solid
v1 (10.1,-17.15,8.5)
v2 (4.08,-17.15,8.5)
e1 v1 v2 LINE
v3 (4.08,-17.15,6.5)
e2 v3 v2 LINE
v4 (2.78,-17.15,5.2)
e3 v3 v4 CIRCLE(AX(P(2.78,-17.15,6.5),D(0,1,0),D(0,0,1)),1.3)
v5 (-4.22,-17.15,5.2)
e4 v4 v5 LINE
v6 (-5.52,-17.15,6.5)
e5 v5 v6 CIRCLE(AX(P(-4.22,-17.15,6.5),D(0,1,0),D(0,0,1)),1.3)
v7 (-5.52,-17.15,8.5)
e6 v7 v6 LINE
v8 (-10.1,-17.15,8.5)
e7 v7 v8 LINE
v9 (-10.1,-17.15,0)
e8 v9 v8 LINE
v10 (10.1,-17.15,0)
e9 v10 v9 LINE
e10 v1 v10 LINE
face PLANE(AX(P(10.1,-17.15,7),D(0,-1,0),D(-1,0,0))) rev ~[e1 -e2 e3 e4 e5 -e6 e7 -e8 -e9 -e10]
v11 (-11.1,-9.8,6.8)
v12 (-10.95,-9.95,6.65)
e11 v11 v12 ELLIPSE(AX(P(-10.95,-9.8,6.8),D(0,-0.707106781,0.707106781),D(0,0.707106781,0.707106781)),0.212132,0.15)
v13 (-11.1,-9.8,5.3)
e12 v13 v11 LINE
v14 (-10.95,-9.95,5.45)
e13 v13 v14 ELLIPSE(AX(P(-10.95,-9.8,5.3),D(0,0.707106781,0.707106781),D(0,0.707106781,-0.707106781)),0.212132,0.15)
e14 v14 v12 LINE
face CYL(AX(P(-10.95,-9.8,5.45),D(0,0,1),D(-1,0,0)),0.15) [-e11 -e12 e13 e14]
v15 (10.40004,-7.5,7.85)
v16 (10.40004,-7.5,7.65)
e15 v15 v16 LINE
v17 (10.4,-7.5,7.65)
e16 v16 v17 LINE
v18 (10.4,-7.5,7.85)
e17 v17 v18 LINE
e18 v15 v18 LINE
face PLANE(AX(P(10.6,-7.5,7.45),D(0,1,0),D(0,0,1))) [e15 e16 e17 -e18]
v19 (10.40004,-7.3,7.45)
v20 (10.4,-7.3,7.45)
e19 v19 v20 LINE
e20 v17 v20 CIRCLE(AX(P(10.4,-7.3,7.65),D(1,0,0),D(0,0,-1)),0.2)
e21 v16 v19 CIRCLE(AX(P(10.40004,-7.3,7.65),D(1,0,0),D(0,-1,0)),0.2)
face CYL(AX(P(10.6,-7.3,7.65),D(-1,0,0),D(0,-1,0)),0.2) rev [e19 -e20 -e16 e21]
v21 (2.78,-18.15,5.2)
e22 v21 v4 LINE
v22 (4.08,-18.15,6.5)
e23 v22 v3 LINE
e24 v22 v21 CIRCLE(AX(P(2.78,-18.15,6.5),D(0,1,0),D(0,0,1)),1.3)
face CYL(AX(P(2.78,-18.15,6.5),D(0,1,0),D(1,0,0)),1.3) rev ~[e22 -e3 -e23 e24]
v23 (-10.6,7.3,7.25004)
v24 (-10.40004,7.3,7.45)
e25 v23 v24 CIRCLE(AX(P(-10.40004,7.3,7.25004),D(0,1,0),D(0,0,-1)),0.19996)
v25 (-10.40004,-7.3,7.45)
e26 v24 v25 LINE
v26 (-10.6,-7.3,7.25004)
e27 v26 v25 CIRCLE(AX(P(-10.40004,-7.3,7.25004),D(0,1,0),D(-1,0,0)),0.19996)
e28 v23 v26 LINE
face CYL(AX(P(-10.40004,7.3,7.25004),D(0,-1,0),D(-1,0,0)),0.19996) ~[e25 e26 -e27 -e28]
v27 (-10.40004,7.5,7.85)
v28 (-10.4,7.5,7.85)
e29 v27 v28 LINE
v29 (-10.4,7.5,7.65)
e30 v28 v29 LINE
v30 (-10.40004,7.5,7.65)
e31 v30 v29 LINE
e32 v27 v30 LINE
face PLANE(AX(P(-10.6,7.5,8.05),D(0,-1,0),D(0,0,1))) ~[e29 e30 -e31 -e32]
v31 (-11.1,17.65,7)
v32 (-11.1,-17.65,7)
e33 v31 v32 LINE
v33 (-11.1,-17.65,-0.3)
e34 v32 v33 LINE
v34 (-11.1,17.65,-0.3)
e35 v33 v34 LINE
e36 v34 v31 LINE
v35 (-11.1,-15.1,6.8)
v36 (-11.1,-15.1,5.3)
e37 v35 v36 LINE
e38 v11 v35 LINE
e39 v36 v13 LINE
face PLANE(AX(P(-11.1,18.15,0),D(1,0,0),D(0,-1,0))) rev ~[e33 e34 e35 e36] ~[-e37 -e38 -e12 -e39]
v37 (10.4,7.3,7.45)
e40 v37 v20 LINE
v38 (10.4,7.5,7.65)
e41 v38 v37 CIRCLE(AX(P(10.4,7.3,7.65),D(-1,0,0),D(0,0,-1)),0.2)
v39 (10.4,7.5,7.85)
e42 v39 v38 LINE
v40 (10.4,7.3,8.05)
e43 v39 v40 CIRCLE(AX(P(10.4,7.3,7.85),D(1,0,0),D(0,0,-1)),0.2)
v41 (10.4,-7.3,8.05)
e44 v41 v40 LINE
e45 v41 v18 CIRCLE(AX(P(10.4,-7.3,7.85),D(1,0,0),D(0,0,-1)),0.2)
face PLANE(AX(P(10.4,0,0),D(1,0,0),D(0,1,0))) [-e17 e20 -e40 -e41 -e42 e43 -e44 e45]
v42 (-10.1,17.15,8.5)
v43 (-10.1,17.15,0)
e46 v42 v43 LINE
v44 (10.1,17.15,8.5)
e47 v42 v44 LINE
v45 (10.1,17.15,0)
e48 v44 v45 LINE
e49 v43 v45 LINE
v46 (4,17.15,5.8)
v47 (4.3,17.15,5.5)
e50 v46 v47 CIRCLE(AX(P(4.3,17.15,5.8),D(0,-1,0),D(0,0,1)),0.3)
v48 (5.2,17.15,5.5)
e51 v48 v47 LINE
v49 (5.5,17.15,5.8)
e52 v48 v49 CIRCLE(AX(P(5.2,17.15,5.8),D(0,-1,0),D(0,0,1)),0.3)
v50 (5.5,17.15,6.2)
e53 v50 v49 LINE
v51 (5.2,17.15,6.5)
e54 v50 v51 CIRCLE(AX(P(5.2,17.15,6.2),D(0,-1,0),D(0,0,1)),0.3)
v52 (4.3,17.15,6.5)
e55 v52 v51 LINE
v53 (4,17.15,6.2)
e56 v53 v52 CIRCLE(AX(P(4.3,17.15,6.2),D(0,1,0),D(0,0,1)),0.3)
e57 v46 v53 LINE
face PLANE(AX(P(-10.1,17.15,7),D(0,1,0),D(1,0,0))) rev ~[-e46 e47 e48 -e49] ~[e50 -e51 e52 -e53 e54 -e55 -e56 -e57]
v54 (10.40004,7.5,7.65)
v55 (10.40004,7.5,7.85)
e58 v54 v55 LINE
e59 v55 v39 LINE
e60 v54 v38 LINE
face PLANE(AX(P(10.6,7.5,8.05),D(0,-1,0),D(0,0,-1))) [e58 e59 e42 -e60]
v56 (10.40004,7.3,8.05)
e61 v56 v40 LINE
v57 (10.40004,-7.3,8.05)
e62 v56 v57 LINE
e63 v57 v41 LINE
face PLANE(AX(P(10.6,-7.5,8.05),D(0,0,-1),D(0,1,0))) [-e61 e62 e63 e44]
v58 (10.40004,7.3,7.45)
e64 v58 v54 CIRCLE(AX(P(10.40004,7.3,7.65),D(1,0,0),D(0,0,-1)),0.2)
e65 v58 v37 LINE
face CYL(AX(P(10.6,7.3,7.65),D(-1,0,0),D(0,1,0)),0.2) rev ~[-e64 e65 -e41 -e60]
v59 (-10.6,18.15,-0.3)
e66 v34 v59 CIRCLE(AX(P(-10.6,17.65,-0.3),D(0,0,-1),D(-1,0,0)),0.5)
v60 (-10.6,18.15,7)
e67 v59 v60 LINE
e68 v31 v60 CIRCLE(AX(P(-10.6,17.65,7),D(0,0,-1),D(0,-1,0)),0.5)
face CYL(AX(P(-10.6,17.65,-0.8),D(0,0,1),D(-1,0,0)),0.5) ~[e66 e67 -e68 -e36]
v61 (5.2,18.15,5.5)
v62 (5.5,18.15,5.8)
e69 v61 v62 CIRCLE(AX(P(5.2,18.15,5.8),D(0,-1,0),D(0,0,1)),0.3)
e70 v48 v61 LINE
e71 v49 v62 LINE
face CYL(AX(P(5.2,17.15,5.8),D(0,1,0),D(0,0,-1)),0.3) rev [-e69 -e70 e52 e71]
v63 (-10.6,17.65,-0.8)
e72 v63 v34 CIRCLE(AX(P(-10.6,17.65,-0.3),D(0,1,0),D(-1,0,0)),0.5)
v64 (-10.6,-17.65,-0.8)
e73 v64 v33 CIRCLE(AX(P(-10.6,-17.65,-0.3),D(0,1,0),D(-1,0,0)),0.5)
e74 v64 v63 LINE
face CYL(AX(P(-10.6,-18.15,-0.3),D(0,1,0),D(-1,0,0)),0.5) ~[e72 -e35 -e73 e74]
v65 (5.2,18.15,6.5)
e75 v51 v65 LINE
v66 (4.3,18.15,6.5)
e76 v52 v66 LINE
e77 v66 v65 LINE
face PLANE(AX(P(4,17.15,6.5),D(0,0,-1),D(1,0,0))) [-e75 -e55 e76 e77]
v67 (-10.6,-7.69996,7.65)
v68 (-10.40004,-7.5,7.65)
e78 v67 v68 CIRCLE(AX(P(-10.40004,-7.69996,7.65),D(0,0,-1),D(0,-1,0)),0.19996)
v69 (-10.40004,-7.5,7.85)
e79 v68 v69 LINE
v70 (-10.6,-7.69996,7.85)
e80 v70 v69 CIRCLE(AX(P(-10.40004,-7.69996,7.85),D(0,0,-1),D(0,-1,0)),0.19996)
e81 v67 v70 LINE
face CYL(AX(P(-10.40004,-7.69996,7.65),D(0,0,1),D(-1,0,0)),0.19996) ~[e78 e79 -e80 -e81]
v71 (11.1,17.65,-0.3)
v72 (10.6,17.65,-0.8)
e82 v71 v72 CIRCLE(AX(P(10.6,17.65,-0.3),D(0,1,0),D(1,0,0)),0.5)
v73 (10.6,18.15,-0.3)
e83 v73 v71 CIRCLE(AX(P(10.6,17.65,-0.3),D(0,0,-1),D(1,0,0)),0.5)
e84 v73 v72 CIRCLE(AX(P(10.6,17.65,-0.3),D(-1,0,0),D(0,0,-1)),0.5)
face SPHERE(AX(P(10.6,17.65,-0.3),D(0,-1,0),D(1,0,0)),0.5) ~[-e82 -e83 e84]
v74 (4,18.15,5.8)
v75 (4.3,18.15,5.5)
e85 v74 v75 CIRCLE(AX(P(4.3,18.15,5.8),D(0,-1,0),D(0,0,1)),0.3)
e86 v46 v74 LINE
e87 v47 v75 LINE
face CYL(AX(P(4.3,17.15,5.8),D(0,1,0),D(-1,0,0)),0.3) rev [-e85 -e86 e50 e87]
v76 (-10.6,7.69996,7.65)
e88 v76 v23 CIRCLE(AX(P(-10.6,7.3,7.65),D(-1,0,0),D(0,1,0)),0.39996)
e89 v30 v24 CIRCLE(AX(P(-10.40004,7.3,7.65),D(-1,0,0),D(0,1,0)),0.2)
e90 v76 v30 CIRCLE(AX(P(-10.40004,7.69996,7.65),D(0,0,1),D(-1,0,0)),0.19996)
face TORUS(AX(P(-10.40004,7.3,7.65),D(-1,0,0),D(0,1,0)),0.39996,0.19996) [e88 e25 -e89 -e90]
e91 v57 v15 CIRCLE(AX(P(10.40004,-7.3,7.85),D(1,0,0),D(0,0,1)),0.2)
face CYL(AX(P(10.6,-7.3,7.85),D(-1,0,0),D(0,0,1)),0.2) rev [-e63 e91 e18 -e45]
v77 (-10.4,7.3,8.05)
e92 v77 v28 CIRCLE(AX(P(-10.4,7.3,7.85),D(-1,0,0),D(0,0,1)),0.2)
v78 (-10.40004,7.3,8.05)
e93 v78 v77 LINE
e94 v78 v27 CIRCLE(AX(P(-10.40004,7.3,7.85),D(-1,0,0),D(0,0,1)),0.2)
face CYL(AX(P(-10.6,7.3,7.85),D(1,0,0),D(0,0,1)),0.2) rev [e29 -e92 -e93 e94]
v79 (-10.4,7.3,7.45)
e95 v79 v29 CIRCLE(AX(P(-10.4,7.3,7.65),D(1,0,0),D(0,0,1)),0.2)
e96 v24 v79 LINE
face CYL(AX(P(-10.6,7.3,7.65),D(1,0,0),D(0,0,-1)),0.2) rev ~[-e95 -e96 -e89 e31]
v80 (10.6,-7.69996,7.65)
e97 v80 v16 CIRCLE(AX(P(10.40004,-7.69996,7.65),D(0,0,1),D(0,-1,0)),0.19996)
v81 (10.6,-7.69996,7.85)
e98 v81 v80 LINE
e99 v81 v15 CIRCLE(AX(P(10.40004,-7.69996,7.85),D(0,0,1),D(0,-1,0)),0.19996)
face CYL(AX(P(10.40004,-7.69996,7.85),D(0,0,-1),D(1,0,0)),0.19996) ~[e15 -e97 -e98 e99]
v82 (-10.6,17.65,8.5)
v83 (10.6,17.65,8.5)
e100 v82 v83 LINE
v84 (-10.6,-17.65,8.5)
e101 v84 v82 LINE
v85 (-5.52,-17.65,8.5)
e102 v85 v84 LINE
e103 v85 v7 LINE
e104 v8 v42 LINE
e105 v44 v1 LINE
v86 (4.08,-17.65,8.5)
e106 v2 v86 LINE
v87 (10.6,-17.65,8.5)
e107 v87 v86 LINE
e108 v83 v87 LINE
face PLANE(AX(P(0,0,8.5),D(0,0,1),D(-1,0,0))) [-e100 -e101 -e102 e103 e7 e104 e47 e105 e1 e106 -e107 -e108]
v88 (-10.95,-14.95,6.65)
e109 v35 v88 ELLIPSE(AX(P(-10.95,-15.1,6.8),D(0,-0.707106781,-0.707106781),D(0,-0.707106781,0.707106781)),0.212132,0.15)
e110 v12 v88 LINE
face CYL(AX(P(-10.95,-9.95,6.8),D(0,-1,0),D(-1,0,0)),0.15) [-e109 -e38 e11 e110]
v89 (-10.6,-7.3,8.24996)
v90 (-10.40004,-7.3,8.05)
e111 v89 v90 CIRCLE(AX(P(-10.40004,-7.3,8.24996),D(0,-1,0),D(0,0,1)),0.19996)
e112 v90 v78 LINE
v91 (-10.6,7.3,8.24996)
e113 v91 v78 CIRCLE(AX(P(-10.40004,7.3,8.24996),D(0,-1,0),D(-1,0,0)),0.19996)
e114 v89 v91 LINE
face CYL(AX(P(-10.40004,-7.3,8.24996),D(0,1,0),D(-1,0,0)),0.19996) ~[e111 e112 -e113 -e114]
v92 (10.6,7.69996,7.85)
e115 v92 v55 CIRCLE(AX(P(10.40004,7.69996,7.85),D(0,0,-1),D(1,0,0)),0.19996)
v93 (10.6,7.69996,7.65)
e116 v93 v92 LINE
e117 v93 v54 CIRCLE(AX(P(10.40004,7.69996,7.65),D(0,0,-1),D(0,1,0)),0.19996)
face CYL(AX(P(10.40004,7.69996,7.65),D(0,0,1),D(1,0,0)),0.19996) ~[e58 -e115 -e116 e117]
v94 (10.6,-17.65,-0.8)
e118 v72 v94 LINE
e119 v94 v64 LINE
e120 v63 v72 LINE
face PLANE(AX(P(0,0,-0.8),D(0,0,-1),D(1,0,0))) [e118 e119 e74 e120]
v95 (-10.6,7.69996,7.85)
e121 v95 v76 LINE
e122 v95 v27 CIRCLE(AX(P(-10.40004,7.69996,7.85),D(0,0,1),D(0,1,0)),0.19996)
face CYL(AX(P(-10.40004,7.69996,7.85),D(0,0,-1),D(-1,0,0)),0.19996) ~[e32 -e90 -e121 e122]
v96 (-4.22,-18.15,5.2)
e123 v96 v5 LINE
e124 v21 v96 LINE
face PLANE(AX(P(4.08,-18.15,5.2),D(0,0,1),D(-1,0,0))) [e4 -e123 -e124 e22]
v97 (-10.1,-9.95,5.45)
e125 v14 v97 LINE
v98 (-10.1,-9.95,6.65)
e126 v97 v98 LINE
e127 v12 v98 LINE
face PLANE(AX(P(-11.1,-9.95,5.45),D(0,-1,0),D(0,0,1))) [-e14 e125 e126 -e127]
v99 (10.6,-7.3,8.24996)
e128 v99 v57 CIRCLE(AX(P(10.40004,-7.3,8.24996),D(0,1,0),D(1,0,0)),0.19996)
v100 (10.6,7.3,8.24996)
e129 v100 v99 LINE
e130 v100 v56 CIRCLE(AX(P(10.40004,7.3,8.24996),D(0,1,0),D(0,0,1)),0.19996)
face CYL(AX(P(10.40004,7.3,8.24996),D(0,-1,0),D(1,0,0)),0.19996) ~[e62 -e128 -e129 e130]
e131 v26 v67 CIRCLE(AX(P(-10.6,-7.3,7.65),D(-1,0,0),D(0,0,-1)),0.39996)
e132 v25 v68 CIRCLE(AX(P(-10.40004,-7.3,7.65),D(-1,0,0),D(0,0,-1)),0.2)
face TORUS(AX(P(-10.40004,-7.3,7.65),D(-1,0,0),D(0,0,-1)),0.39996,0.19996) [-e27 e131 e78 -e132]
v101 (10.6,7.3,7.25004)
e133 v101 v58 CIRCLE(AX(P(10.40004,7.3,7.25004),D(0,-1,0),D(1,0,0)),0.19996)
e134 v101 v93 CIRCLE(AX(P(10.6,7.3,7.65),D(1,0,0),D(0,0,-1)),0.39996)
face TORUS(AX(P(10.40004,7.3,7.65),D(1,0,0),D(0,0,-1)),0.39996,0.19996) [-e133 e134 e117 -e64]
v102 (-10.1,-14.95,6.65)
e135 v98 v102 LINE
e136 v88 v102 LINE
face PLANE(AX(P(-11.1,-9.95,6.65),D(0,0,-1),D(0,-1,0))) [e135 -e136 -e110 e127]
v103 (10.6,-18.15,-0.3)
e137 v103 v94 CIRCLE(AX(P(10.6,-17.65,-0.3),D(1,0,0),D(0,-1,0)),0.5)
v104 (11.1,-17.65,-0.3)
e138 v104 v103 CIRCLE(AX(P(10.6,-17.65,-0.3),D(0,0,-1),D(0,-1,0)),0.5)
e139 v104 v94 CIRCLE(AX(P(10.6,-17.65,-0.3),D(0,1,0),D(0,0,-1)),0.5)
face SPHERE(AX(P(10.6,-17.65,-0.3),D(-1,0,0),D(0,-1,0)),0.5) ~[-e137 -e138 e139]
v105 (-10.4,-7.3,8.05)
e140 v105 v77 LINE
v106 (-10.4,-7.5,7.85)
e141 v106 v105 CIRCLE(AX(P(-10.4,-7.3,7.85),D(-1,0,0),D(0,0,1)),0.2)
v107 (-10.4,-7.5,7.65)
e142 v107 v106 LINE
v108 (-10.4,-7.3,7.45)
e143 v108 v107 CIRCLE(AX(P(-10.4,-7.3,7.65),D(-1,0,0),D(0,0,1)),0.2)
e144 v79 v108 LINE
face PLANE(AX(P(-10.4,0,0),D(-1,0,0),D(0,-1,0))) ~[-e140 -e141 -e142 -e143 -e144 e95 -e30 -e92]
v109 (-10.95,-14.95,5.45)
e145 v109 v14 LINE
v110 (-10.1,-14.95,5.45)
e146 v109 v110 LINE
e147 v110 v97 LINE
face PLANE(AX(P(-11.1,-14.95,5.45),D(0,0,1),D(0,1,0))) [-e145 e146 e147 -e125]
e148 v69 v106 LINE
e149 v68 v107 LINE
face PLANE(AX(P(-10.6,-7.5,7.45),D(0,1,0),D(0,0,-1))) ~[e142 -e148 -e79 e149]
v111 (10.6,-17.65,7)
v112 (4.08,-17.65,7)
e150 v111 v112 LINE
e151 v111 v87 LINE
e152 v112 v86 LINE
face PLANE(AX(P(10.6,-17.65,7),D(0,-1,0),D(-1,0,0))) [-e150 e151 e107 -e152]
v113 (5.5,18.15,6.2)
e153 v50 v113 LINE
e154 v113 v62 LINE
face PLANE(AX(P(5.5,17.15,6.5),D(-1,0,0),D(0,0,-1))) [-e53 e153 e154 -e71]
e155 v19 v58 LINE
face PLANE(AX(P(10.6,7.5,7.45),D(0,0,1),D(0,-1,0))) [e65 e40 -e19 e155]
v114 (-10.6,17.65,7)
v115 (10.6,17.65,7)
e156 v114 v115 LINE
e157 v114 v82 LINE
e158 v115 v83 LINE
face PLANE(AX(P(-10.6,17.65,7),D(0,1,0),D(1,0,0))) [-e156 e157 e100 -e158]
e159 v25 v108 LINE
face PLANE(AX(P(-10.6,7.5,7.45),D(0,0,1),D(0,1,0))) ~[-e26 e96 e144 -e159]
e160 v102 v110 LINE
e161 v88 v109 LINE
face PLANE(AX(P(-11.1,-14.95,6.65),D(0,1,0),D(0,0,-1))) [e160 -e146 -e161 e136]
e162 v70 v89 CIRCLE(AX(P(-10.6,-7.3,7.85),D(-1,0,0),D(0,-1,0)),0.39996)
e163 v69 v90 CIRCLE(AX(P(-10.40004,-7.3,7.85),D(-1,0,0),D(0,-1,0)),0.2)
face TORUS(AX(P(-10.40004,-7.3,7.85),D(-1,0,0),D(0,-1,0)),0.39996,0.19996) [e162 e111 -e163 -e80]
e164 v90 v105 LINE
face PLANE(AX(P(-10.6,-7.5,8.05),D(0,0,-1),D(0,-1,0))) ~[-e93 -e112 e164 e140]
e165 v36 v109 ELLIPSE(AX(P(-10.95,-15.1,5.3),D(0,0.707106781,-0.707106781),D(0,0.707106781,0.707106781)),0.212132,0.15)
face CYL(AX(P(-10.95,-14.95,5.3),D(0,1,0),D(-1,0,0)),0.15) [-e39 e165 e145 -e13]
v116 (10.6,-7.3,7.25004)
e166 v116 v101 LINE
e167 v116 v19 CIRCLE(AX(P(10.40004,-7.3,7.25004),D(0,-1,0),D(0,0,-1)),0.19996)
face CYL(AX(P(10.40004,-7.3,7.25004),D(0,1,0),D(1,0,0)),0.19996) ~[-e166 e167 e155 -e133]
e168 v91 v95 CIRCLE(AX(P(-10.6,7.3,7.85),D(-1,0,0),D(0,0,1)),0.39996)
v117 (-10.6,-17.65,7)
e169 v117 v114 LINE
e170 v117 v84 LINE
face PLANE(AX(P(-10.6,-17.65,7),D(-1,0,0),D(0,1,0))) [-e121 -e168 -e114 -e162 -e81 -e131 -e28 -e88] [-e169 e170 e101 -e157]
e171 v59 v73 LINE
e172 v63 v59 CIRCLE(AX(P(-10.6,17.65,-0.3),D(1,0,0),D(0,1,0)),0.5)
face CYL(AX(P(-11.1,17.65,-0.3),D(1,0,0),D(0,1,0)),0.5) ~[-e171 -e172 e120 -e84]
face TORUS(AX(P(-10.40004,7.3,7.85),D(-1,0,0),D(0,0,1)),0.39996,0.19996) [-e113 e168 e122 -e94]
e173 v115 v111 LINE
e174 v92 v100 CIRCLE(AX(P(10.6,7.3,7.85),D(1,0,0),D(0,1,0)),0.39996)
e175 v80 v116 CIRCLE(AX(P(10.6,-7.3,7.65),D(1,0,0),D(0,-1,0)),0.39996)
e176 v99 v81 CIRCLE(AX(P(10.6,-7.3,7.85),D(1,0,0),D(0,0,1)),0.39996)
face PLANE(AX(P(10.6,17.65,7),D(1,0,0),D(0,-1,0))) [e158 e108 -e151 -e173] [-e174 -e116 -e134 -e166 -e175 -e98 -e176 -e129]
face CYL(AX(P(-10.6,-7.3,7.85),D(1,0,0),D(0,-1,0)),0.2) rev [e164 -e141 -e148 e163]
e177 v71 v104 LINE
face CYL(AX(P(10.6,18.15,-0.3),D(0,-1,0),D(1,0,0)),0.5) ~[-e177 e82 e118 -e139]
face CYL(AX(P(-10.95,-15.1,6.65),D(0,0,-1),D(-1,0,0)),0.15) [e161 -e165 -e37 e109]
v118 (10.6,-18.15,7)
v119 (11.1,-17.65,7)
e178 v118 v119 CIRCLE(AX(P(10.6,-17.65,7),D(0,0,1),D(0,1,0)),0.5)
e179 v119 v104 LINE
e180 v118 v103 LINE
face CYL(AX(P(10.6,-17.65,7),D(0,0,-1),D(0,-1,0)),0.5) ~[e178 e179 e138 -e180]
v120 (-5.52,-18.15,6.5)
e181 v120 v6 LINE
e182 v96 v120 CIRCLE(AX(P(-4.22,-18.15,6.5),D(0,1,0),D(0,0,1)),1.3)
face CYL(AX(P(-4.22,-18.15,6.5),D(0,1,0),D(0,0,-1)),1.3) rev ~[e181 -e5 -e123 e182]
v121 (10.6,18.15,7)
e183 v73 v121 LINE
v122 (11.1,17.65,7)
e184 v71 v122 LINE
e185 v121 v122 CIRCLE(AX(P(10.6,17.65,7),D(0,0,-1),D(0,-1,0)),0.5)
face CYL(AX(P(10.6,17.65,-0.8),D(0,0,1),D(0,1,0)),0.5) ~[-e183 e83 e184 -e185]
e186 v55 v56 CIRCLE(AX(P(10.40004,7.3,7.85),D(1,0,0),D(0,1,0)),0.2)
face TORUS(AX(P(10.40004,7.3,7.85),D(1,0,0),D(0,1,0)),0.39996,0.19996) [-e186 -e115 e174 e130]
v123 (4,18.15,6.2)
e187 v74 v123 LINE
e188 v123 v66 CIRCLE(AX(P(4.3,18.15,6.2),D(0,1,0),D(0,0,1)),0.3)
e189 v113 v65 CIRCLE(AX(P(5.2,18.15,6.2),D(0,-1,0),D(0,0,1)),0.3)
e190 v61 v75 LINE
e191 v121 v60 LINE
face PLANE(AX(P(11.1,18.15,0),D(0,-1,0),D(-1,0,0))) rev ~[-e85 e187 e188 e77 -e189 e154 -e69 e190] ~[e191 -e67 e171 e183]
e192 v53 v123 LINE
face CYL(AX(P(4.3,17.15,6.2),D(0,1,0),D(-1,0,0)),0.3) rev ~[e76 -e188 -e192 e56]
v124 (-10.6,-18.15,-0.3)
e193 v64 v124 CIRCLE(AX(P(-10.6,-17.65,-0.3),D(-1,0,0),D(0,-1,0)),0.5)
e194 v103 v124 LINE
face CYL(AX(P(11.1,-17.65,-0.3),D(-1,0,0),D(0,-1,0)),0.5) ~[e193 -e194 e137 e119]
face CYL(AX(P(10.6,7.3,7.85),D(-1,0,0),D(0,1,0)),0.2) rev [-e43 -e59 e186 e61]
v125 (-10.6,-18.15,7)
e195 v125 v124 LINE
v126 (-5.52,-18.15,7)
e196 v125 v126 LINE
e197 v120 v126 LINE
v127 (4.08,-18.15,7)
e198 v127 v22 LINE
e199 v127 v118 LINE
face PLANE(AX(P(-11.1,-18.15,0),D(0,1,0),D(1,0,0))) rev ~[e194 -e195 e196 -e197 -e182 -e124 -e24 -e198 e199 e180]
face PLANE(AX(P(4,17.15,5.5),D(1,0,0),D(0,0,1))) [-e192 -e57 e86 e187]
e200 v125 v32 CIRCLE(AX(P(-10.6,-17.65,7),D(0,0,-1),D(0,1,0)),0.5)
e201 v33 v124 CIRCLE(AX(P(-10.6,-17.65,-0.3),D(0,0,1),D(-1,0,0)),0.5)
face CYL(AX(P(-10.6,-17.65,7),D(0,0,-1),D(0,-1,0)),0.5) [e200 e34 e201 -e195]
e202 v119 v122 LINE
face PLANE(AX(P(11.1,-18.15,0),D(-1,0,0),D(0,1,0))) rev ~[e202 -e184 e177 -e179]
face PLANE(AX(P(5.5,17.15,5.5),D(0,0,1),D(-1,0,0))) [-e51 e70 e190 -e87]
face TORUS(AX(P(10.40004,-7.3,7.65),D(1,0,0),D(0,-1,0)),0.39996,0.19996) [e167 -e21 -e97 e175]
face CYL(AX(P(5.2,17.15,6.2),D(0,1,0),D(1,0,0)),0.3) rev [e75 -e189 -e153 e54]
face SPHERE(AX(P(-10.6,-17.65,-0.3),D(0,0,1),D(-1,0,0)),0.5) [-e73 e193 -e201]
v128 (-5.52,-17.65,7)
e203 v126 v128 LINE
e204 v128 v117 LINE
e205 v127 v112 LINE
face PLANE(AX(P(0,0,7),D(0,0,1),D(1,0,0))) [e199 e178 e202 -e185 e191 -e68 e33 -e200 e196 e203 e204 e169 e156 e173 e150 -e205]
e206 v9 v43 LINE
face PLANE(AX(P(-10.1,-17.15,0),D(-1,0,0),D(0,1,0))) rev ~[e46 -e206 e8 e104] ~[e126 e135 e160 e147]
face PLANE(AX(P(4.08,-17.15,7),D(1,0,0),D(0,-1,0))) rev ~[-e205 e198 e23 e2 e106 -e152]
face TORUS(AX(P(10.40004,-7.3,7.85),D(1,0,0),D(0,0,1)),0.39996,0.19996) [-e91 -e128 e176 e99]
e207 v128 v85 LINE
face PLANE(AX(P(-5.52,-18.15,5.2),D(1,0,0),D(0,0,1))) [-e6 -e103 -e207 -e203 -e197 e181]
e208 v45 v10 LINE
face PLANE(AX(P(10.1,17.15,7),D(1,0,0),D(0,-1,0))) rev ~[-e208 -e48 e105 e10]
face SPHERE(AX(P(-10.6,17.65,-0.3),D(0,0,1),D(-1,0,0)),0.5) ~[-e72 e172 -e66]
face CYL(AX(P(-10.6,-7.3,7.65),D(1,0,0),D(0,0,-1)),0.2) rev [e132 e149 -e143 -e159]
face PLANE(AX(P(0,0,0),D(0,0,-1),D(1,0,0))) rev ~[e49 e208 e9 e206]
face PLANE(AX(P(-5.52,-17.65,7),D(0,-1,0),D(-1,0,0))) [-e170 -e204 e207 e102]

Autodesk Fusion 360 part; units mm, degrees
sketch "Sketch1" plane through (0, 0, 0) normal (0, 0, 1) x (1, 0, 0)
  line L0 (10.1, -17.15) -> (-10.1, -17.15)
  line L1 (-10.1, -17.15) -> (-10.1, 17.15)
  line L2 (-10.1, 17.15) -> (10.1, 17.15)
  line L3 (10.1, 17.15) -> (10.1, -17.15)
  line L4 (10.1, -17.15) -> (-10.1, 17.15) construction
  line L5 (-10.1, -17.15) -> (10.1, 17.15) construction
  line L6 (11.1, 18.15) -> (-11.1, 18.15)
  line L7 (-11.1, 18.15) -> (-11.1, -18.15)
  line L8 (-11.1, -18.15) -> (11.1, -18.15)
  line L9 (11.1, -18.15) -> (11.1, 18.15)
  line L10 (11.1, 18.15) -> (-11.1, -18.15) construction
  line L11 (-11.1, 18.15) -> (11.1, -18.15) construction
  dimension "d1" = 20.2
  dimension "d2" = 34.3
  dimension "d4" = 1
  dimension "d5" = 1
extrude "Extrude1" add sketch "Sketch1" along normal blind 7
sketch "Sketch2" plane through (0, 0, 0) normal (0, 0, -1) x (1, 0, 0)
  line L0 (10.1, -17.15) -> (-10.1, -17.15)
  line L1 (-10.1, -17.15) -> (-10.1, 17.15)
  line L2 (-10.1, 17.15) -> (10.1, 17.15)
  line L3 (10.1, 17.15) -> (10.1, -17.15)
  line L4 (11.1, -18.15) -> (11.1, 18.15)
  line L5 (11.1, 18.15) -> (-11.1, 18.15)
  line L6 (-11.1, 18.15) -> (-11.1, -18.15)
  line L7 (-11.1, -18.15) -> (11.1, -18.15)
  line L8 (-11.1, 18.15) -> (11.1, 18.15)
  line L9 (11.1, 18.15) -> (11.1, -18.15)
  line L10 (11.1, -18.15) -> (-11.1, -18.15)
  line L11 (-11.1, -18.15) -> (-11.1, 18.15)
extrude "Extrude2" add sketch "Sketch2" along normal blind 0.8 contours L0 L1 L2 L3 | L4 L5 L6 L7 L8 L9 L10 L11
sketch "Sketch3" plane through (0, -18.15, 0) normal (0, -1, 0) x (1, 0, 0)
  line L0 (11.1, -0.8) -> (11.1, 7)
  line L1 (11.1, 7) -> (-11.1, 7)
  line L2 (-11.1, 7) -> (-11.1, -0.8)
  line L3 (-11.1, -0.8) -> (11.1, -0.8)
  line L4 (-5.52, 7) -> (4.08, 7)
  line L5 (4.08, 7) -> (4.08, 5.2)
  line L6 (4.08, 5.2) -> (-5.52, 5.2)
  line L7 (-5.52, 5.2) -> (-5.52, 7)
  dimension "d10" = 6
  dimension "d11" = 5.58
  dimension "d14" = 9.6
extrude "Extrude3" cut sketch "Sketch3" against normal up to surface (1 mm away) contours L1 L4 L5 L6 L7
fillet "Fillet1" radius 1.3 2 edges at (-5.52, -17.65, 5.2) (4.08, -17.65, 5.2)
sketch "Sketch4" plane through (-11.1, 0, 0) normal (-1, 0, 0) x (0, -1, 0)
  line L0 (18.15, -0.8) -> (18.15, 7)
  line L1 (18.15, 7) -> (-18.15, 7)
  line L2 (-18.15, 7) -> (-18.15, -0.8)
  line L3 (-18.15, -0.8) -> (18.15, -0.8)
  line L4 (9.95, 6.65) -> (14.95, 6.65)
  line L5 (14.95, 6.65) -> (14.95, 5.45)
  line L6 (14.95, 5.45) -> (9.95, 5.45)
  line L7 (9.95, 5.45) -> (9.95, 6.65)
  dimension "d17" = 3.2
  dimension "d18" = 5
  dimension "d19" = 1.2
  dimension "d22" = 0.35
extrude "Extrude4" cut sketch "Sketch4" against normal up to surface (1 mm away) contours L4 L5 L6 L7
fillet "Fillet2" radius 0.15 4 edges at (-11.1, -12.45, 5.45) (-11.1, -9.95, 6.05) (-11.1, -12.45, 6.65) (-11.1, -14.95, 6.05)
sketch "Sketch5" plane through (0, 0, 7) normal (0, 0, 1) x (-1, 0, 0)
  line L0 (-4.08, 17.15) -> (-4.08, 18.15)
  line L1 (-4.08, 18.15) -> (-11.1, 18.15)
  line L2 (-11.1, 18.15) -> (-11.1, -18.15)
  line L3 (-11.1, -18.15) -> (11.1, -18.15)
  line L4 (11.1, -18.15) -> (11.1, 18.15)
  line L5 (11.1, 18.15) -> (5.52, 18.15)
  line L6 (5.52, 18.15) -> (5.52, 17.15)
  line L7 (5.52, 17.15) -> (10.1, 17.15)
  line L8 (10.1, 17.15) -> (10.1, -17.15)
  line L9 (10.1, -17.15) -> (-10.1, -17.15)
  line L10 (-10.1, -17.15) -> (-10.1, 17.15)
  line L11 (-10.1, 17.15) -> (-4.08, 17.15)
  line L12 (10.6, -17.65) -> (-10.6, -17.65)
  line L13 (-10.6, -17.65) -> (-10.6, 17.65)
  line L14 (-10.6, 17.65) -> (10.6, 17.65)
  line L15 (10.6, 17.65) -> (10.6, -17.65)
  dimension "d26" = 0.5
  dimension "d27" = 0.5
  dimension "d28" = 0.5
  dimension "d29" = 0.5
extrude "Extrude5" add sketch "Sketch5" along normal blind 1.5 contours L0 L6 L7 L8 L9 L10 L11 L12 L13 L14 L15
sketch "Sketch7" plane through (10.6, 0, 0) normal (1, 0, 0) x (0, 1, 0)
  line L0 (-17.65, 7) -> (17.65, 7)
  line L1 (17.65, 7) -> (17.65, 8.5)
  line L2 (17.65, 8.5) -> (-17.65, 8.5)
  line L3 (-17.65, 8.5) -> (-17.65, 7)
  line L4 (-17.65, 8.5) -> (17.65, 7) construction
  line L5 (17.65, 8.5) -> (-17.65, 7) construction
  line L6 (0, 7.75) -> (-14.5, 7.75) construction
  line L7 (7.5, 7.45) -> (-7.5, 7.45)
  line L8 (-7.5, 7.45) -> (-7.5, 8.05)
  line L9 (-7.5, 8.05) -> (7.5, 8.05)
  line L10 (7.5, 8.05) -> (7.5, 7.45)
  line L11 (7.5, 7.45) -> (-7.5, 8.05) construction
  line L12 (-7.5, 7.45) -> (7.5, 8.05) construction
  point P0 (0, 7.75)
  dimension "d32" = 15
  dimension "d33" = 0.6
ref_plane "WorkPlane1" through (0, 0, 7.75) normal (1, 0, 0) x (0, 1, 0)
extrude "Extrude6" cut sketch "Sketch7" against normal blind 0.2 contours L7 L8 L9 L10
fillet "Fillet5" radius 0.2 4 edges at (10.5, -7.5, 7.45) (10.5, -7.5, 8.05) (10.5, 7.5, 7.45) (10.5, 7.5, 8.05)
fillet "Fillet6" radius 0.2 8 edges at (10.6, -7.4414, 7.5086) (10.6, 0, 7.45) (10.6, 7.4414, 7.5086) (10.6, 7.5, 7.75) (10.6, 7.4414, 7.9914) (10.6, 0, 8.05) (10.6, -7.4414, 7.9914) (10.6, -7.5, 7.75)
mirror "Mirror2" about plane through (0, 0, 7.75) normal (1, 0, 0) of "Extrude6"
fillet "Fillet7" radius 0.2 4 edges at (-10.5, 7.5, 7.45) (-10.5, 7.5, 8.05) (-10.5, -7.5, 7.45) (-10.5, -7.5, 8.05)
fillet "Fillet8" radius 0.2 8 edges at (-10.6, -7.4414, 7.9914) (-10.6, -7.5, 7.75) (-10.6, -7.4414, 7.5086) (-10.6, 0, 7.45) (-10.6, 7.4414, 7.5086) (-10.6, 7.5, 7.75) (-10.6, 7.4414, 7.9914) (-10.6, 0, 8.05)
fillet "Fillet9" radius 0.5 8 edges at (-11.1, 18.15, 3.1) (-11.1, -18.15, 3.1) (-11.1, 0, -0.8) (0, -18.15, -0.8) (11.1, -18.15, 3.1) (11.1, 0, -0.8) (11.1, 18.15, 3.1) (0, 18.15, -0.8)
sketch "Sketch8" plane through (0, 17.15, 0) normal (0, -1, 0) x (1, 0, 0)
  line L0 (-10.1, 0) -> (10.1, 0)
  line L1 (10.1, 0) -> (10.1, 8.5)
  line L2 (10.1, 8.5) -> (-10.1, 8.5)
  line L3 (-10.1, 8.5) -> (-10.1, 0)
  line L4 (4, 6.5) -> (5.5, 6.5)
  line L5 (5.5, 6.5) -> (5.5, 5.5)
  line L6 (5.5, 5.5) -> (4, 5.5)
  line L7 (4, 5.5) -> (4, 6.5)
  dimension "d55" = 4.6
  dimension "d56" = 2
  dimension "d57" = 1.5
  dimension "d58" = 1
extrude "Extrude7" cut sketch "Sketch8" against normal up to surface (1 mm away) contours L4 L5 L6 L7
fillet "Fillet10" radius 0.3 4 edges at (5.5, 17.65, 5.5) (5.5, 17.65, 6.5) (4, 17.65, 6.5) (4, 17.65, 5.5)
equation "case_thickness = 1 mm"
equation "d4 = case_thickness"
equation "d5 = case_thickness"
equation "d8 = case_bottom - 0.2 mm"
equation "d11 = 4.58 mm + case_thickness"
equation "lock_rim = 0.5 mm"
equation "d26 = lock_rim"
equation "d27 = lock_rim"
equation "d28 = lock_rim"
equation "d29 = lock_rim"
equation "d43 = clip_roundness"
equation "d45 = clip_roundness"
equation "clip_roundness = 0.2 mm"
equation "d50 = clip_roundness"
equation "d52 = clip_roundness"
equation "case_bottom = 1 mm"
